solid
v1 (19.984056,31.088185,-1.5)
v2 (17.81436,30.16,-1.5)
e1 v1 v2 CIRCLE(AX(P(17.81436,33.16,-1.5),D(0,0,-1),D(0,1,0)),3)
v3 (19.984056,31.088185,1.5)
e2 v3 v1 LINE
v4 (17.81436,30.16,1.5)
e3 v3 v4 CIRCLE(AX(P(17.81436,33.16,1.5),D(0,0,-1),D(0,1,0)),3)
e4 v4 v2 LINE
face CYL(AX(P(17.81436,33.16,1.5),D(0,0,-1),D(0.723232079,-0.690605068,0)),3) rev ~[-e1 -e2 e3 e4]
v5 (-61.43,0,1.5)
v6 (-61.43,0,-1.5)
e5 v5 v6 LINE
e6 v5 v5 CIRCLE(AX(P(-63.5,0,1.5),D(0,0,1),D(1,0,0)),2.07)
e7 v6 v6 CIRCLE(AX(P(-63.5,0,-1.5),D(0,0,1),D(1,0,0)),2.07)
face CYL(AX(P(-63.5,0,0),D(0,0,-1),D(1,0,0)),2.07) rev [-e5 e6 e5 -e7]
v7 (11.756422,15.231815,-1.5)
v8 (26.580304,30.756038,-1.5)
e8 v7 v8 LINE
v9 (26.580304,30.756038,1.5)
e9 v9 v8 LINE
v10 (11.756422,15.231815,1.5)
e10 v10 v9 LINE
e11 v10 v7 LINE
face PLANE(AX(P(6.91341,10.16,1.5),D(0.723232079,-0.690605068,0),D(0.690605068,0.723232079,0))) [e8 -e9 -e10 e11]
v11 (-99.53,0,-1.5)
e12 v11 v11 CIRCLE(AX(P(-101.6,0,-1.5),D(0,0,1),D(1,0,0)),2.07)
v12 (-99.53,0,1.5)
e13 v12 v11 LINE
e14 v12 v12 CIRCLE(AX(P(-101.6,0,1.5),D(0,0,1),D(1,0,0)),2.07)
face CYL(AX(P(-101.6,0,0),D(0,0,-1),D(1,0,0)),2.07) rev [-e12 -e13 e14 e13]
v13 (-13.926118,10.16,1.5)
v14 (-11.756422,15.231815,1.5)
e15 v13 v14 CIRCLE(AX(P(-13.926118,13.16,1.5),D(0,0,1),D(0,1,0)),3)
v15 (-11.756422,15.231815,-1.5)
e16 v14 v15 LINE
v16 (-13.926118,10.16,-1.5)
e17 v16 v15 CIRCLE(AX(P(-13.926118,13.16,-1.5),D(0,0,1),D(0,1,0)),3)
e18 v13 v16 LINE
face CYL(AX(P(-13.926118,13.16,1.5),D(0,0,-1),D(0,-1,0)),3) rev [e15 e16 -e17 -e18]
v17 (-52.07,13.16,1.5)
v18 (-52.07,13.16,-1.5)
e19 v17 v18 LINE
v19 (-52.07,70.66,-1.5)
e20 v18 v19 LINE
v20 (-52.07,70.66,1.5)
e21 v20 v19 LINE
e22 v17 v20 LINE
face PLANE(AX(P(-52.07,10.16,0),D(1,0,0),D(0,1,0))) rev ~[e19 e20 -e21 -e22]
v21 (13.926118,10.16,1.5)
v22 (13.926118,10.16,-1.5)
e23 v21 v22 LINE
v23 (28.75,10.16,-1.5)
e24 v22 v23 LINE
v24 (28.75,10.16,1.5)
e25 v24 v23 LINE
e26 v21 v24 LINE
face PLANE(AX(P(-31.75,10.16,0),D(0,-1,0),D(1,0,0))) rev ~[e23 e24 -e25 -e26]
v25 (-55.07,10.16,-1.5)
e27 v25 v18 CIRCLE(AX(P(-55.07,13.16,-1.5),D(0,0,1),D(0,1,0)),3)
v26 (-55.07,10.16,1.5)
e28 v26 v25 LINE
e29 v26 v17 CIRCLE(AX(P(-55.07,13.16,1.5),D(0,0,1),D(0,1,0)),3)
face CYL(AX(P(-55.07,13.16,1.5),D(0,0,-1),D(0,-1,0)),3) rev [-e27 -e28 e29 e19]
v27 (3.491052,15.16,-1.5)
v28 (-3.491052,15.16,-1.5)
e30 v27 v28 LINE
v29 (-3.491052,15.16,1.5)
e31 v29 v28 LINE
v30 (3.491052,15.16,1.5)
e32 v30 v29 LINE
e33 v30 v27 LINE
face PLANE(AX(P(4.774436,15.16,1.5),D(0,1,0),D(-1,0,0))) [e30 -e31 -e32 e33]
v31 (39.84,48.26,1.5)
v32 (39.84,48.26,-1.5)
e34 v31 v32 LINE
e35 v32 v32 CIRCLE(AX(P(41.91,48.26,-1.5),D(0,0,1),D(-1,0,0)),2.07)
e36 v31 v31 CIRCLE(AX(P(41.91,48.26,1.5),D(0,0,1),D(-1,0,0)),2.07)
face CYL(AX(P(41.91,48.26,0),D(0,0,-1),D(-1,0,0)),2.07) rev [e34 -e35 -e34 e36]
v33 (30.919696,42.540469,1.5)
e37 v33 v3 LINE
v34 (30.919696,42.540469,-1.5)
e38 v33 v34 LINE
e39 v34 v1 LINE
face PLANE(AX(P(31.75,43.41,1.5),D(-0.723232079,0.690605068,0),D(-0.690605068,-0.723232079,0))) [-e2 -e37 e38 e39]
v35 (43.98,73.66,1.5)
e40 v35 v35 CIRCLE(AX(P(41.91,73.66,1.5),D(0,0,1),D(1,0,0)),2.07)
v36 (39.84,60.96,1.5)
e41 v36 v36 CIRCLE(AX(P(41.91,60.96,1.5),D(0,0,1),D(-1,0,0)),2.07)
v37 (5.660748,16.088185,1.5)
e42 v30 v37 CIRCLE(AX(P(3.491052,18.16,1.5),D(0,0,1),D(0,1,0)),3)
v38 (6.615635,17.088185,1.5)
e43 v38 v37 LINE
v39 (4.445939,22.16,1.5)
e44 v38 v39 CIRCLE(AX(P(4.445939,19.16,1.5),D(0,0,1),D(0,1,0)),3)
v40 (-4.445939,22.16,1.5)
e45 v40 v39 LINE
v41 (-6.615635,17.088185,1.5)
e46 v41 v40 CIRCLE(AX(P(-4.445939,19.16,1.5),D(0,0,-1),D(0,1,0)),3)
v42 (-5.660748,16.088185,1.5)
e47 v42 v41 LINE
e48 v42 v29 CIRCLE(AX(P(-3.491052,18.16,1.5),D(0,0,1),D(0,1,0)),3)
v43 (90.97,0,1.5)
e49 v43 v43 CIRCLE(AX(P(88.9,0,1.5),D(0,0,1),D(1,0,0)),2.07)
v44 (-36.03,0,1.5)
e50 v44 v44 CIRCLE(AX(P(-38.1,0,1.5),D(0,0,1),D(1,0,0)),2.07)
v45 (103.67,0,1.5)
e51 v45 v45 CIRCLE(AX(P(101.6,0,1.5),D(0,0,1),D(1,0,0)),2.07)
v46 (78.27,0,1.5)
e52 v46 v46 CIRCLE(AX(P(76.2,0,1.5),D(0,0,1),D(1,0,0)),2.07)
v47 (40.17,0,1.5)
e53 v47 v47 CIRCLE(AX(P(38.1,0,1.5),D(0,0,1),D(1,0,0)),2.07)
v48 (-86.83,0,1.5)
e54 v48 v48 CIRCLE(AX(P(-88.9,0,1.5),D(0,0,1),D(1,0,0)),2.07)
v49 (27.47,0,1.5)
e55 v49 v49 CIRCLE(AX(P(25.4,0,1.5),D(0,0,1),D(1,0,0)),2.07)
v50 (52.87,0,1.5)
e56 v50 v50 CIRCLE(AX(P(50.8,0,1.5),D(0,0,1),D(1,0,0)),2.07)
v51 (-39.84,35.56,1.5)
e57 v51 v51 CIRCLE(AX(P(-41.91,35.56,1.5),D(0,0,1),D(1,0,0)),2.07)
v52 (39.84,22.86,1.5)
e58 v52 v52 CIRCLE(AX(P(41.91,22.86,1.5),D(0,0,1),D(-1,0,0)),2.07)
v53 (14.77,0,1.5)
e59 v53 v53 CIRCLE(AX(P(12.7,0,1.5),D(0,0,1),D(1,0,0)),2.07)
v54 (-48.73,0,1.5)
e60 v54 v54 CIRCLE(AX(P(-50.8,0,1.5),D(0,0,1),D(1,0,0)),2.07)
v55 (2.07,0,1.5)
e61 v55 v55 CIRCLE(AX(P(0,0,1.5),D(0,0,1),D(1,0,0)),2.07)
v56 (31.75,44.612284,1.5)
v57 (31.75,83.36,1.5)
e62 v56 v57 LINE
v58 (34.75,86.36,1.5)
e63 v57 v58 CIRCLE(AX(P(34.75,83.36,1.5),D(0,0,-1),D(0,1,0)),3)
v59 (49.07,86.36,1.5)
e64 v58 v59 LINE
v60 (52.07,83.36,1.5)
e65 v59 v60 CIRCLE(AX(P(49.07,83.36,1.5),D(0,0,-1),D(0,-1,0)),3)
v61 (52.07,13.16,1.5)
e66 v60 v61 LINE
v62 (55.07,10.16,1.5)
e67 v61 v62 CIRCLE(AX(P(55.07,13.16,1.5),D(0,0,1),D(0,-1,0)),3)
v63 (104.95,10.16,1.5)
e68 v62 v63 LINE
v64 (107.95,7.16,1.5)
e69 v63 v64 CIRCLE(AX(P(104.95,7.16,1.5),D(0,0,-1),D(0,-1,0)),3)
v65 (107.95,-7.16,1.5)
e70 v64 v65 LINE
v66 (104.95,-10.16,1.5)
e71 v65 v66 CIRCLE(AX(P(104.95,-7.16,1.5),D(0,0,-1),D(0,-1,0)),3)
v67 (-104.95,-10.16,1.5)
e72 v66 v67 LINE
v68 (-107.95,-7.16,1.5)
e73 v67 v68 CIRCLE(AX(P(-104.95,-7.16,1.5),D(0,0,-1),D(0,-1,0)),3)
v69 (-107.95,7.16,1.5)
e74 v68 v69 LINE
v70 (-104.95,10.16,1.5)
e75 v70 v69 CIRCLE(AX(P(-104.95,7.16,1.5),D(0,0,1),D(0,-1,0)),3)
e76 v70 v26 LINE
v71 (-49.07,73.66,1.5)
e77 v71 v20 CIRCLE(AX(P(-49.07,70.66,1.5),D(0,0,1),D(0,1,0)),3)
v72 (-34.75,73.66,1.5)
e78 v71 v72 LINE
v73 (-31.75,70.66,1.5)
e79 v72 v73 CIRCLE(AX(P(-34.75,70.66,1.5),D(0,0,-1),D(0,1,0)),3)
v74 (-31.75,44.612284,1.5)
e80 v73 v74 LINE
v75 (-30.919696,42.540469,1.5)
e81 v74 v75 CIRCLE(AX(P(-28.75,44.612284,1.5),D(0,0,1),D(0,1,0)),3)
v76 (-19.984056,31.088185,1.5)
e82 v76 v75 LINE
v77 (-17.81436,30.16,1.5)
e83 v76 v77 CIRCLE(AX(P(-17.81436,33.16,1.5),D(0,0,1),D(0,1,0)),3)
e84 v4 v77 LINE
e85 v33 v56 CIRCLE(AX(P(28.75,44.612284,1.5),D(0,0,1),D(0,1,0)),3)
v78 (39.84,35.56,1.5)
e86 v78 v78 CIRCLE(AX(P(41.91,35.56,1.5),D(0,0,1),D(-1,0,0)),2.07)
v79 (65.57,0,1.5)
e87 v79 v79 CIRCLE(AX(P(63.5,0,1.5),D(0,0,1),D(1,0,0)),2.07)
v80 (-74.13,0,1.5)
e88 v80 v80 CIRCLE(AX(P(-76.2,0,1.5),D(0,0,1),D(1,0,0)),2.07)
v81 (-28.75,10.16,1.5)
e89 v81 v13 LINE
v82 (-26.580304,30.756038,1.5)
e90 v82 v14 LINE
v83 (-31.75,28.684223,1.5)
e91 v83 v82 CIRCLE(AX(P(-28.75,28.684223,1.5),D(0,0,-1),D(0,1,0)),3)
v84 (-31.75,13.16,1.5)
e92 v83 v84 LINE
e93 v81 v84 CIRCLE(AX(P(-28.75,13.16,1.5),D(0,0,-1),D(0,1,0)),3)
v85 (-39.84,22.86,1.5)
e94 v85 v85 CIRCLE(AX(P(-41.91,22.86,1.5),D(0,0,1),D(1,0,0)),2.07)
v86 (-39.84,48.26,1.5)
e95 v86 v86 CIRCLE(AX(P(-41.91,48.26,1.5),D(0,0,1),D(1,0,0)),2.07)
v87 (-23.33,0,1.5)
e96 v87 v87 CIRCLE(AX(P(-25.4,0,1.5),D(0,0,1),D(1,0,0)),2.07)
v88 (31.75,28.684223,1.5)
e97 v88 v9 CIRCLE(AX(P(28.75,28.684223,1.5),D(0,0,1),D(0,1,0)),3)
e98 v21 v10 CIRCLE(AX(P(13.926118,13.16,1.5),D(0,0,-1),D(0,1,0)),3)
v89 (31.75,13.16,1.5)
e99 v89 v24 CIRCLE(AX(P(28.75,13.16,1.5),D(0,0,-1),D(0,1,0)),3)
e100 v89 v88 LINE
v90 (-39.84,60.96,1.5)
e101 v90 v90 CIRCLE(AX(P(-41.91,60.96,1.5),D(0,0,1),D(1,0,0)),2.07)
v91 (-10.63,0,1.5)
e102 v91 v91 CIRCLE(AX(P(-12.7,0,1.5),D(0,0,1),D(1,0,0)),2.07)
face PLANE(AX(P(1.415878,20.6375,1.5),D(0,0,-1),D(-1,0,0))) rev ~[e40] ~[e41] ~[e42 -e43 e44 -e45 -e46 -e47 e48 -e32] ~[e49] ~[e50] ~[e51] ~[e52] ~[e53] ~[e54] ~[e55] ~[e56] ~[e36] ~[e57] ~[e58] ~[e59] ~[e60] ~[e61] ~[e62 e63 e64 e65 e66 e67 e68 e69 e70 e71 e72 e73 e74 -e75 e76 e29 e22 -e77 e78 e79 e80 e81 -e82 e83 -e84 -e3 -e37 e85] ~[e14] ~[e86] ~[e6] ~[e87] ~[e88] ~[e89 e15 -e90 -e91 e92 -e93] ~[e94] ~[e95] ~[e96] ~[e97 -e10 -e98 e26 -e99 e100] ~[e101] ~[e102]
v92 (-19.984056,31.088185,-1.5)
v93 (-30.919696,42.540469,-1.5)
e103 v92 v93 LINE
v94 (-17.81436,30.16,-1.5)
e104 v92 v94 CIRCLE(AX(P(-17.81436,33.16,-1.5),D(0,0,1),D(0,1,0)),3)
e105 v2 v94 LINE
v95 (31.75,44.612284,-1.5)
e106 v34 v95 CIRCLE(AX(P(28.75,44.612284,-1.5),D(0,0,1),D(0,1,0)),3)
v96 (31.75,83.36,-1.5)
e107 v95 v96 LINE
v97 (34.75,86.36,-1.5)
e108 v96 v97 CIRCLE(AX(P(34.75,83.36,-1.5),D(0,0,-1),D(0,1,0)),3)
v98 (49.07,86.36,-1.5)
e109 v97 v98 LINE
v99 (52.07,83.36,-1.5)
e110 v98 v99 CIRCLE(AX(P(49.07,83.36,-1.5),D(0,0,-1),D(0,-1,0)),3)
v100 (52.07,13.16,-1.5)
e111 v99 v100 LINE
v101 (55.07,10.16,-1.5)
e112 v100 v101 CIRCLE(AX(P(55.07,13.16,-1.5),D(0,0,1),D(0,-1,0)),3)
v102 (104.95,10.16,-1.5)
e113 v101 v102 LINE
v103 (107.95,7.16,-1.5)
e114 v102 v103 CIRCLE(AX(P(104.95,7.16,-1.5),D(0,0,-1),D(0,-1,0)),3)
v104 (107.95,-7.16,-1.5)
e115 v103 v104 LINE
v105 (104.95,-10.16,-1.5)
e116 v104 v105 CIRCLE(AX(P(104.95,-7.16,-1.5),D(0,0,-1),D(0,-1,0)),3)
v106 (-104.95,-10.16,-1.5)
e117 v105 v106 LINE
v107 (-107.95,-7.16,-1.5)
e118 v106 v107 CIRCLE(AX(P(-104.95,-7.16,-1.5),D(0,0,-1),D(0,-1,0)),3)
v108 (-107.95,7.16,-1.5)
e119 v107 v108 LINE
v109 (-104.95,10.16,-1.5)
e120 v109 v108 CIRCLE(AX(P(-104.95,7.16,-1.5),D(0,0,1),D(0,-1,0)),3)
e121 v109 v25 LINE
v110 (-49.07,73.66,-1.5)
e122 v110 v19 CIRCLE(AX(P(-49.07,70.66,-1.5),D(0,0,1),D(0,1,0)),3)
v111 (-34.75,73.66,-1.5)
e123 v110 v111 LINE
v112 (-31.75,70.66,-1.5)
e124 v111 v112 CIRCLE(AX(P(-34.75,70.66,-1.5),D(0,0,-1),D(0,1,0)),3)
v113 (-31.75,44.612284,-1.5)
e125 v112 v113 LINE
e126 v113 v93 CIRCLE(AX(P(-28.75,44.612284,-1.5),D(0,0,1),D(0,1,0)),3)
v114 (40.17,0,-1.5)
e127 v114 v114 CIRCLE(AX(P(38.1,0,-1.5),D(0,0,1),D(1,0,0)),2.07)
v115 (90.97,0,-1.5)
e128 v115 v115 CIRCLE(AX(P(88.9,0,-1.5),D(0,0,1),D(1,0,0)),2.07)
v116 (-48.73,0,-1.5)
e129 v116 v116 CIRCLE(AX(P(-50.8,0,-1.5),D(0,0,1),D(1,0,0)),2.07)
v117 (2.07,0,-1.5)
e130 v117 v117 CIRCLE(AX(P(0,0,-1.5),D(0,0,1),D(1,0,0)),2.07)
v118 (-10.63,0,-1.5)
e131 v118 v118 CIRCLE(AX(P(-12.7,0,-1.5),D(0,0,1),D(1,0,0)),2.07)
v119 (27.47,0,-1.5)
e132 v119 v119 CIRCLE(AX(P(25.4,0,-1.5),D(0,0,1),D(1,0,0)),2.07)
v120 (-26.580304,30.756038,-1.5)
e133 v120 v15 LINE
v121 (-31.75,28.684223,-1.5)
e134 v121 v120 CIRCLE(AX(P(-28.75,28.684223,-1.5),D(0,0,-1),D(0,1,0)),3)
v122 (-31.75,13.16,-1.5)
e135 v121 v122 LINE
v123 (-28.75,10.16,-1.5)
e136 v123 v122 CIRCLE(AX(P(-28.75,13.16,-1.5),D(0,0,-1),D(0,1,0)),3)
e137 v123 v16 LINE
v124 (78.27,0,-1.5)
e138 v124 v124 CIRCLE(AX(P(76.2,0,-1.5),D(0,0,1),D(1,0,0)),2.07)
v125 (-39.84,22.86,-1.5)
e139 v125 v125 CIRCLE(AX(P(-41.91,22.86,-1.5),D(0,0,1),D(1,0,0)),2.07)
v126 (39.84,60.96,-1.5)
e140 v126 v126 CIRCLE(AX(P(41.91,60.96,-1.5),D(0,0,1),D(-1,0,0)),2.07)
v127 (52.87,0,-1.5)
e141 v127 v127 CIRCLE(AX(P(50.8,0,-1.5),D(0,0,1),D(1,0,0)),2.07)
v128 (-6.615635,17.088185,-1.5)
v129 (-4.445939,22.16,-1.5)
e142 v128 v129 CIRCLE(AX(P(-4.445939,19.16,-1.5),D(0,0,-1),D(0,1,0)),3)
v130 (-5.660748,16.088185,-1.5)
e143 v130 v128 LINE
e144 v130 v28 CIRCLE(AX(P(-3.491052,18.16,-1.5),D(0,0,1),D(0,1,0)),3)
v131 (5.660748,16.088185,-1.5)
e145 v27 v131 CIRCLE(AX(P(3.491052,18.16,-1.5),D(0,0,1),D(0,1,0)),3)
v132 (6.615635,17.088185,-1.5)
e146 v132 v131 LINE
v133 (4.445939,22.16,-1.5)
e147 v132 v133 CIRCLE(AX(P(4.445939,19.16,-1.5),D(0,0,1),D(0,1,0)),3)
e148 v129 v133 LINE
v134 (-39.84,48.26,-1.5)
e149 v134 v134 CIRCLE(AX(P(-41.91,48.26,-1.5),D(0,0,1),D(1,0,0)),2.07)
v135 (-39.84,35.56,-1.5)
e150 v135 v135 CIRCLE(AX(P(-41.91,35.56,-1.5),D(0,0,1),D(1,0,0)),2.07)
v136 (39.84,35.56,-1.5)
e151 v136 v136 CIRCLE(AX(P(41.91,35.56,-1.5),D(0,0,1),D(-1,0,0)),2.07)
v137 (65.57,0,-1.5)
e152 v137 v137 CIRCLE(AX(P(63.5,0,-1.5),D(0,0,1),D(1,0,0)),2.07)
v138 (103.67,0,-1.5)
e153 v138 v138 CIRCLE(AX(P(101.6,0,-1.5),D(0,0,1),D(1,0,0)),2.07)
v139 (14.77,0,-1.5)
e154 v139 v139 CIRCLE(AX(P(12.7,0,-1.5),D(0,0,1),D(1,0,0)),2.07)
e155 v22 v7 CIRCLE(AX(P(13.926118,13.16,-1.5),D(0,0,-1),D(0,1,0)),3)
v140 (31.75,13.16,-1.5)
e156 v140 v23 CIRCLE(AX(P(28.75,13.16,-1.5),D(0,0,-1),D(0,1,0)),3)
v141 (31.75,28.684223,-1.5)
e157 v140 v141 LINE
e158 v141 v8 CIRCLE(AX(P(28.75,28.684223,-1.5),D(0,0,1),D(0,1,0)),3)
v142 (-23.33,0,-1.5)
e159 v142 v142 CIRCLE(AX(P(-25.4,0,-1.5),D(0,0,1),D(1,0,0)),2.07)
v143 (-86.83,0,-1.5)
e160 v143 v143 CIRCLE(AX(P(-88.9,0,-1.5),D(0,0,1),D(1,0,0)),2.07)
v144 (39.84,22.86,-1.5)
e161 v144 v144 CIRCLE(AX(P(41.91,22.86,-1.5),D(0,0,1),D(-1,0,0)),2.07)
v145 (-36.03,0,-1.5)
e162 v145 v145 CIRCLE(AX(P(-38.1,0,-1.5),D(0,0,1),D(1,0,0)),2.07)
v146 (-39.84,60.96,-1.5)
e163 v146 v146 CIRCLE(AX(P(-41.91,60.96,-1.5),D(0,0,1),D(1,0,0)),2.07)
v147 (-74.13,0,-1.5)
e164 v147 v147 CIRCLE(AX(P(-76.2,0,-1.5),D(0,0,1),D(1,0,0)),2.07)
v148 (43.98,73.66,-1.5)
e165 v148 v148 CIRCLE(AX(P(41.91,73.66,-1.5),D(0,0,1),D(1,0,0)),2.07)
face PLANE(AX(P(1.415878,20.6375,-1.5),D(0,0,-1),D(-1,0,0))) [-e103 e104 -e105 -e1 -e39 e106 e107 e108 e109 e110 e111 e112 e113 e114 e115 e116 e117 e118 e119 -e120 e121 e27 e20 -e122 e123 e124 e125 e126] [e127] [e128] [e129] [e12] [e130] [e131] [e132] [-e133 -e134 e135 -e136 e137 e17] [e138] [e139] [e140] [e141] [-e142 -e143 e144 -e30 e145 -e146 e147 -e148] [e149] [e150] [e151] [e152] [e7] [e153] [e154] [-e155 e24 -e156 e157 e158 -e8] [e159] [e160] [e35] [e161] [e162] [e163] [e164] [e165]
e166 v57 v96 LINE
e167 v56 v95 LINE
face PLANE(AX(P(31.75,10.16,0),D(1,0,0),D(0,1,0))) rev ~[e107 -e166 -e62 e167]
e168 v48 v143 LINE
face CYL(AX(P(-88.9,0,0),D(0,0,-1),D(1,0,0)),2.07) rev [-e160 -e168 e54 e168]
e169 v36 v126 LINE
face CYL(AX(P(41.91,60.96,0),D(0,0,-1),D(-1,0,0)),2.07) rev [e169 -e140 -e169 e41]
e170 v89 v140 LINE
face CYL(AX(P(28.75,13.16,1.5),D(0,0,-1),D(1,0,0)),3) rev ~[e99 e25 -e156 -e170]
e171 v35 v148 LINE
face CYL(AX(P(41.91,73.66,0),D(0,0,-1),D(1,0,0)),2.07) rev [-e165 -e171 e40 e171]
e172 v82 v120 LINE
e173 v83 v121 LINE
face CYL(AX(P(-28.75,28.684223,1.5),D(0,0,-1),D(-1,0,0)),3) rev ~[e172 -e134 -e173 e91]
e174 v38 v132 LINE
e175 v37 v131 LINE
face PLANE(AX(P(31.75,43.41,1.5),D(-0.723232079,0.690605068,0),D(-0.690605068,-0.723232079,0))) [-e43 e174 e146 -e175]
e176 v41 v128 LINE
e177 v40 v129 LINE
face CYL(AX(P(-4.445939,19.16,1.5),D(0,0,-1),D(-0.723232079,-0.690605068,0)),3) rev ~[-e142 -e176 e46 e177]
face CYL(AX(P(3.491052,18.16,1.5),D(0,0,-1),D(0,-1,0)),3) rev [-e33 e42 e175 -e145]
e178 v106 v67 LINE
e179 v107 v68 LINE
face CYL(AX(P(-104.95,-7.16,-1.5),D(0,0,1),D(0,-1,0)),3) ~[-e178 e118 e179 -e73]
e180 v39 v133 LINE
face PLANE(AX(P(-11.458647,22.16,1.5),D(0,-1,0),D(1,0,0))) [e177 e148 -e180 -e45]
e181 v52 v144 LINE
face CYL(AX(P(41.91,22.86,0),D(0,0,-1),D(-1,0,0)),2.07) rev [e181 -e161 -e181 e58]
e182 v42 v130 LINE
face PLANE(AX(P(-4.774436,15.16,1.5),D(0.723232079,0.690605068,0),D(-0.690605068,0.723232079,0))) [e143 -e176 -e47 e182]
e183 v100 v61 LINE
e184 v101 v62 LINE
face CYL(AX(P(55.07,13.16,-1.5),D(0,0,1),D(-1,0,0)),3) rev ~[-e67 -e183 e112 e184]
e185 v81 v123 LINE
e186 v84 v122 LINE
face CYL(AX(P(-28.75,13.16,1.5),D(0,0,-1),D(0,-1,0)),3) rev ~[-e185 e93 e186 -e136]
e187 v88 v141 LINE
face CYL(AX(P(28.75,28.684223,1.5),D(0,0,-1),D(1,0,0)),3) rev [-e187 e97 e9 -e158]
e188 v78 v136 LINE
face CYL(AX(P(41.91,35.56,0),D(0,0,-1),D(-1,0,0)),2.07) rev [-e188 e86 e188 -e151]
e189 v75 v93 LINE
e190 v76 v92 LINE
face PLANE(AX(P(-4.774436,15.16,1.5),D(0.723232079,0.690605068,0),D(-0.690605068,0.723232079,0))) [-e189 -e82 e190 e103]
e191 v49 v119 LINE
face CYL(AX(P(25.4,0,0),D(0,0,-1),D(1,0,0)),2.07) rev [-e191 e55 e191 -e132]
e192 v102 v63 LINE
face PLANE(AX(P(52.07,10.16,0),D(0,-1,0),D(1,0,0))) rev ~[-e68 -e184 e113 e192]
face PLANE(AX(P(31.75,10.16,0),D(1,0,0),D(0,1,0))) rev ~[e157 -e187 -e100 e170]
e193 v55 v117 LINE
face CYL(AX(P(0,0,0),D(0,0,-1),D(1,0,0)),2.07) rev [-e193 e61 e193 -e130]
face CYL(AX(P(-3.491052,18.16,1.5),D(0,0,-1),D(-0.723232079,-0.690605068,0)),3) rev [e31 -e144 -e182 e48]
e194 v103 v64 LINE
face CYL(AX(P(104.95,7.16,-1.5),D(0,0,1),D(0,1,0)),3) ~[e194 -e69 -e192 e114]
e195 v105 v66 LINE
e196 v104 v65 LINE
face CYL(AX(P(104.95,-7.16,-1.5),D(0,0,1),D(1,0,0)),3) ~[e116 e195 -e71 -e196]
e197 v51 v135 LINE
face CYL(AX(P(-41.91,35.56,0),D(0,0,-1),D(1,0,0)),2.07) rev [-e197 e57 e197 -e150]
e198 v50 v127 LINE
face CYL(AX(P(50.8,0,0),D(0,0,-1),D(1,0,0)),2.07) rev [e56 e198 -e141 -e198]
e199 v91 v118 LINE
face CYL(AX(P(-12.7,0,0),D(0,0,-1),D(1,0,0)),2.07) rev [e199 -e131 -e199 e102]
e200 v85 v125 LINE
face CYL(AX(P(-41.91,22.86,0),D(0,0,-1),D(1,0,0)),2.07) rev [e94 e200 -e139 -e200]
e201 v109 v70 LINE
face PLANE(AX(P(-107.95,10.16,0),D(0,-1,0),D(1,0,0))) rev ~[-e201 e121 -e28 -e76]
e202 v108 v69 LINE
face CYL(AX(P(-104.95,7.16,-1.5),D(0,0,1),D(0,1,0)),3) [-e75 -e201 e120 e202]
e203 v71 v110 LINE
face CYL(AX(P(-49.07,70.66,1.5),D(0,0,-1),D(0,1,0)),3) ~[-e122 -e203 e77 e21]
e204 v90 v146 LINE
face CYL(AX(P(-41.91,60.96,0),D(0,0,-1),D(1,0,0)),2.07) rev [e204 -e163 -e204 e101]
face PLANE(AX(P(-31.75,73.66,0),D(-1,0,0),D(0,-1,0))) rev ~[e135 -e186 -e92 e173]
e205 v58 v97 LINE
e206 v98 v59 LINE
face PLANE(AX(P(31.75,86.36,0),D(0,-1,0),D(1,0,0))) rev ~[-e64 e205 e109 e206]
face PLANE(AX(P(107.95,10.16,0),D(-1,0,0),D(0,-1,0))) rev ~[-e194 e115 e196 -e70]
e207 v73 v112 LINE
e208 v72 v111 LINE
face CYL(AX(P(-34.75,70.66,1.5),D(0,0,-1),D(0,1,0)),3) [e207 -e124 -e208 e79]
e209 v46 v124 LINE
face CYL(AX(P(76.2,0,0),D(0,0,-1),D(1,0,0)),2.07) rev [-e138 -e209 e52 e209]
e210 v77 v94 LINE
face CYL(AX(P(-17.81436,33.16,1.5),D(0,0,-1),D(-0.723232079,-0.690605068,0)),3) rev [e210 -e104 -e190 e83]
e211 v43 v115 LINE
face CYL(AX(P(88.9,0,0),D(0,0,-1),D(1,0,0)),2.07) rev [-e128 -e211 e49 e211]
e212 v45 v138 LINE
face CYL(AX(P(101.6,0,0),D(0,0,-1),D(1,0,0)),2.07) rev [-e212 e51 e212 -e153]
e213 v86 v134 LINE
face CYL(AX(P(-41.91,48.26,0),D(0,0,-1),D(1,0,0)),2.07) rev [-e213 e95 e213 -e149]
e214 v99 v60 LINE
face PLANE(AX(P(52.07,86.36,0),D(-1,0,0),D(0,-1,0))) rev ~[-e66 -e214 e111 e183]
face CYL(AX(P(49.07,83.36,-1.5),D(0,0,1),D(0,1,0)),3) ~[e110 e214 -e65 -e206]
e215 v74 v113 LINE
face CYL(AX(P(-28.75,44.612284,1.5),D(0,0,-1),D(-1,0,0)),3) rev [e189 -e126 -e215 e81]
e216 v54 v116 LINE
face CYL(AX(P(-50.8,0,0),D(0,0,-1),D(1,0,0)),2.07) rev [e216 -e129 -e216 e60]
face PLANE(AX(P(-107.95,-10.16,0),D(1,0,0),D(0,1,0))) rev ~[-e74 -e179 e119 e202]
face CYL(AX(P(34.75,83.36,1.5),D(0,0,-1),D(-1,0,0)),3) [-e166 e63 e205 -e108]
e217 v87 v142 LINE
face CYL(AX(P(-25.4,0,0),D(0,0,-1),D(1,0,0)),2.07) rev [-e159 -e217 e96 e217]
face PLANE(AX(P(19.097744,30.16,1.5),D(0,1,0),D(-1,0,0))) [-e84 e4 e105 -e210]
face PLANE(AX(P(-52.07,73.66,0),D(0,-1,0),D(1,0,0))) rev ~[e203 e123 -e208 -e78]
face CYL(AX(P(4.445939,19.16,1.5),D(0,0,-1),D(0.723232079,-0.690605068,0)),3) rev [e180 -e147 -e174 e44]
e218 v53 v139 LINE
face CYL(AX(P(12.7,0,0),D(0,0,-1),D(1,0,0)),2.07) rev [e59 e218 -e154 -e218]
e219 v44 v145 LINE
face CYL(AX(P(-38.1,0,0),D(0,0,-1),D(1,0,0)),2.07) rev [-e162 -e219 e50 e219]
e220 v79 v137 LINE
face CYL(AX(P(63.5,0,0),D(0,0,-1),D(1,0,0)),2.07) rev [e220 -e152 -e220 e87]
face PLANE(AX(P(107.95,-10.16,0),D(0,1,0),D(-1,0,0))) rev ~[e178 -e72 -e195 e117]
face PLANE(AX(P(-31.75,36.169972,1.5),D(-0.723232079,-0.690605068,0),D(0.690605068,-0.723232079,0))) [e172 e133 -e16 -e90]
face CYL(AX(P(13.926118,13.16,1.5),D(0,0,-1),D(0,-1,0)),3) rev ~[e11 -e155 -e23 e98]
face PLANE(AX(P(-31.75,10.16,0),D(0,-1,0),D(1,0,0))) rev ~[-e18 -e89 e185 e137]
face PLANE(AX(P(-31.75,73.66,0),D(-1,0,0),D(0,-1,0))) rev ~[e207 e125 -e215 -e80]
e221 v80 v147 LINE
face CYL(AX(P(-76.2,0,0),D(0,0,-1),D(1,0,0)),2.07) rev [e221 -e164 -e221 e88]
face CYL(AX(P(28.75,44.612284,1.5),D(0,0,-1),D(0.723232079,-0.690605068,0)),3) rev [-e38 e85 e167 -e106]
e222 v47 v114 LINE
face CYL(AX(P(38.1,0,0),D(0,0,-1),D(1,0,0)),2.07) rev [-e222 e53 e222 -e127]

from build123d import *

# Parameters (mm, degrees)
SKETCH1_R           = 2.07
BOSS_EXTRUDE1_DEPTH = 1.5
FILLET3_R           = 3
BOSS_EXTRUDE5_DEPTH = 3
BOSS_EXTRUDE6_DEPTH = 3
FILLET4_R           = 3


with BuildPart() as part:
    # Sketch1 → Boss-Extrude1 (new, symmetric)
    with BuildSketch(Plane.XY):
        Polygon((-107.95, 10.16), (-52.07, 10.16), (-52.07, 73.66), (-31.75, 73.66), (-31.75, 10.16), (31.75, 10.16), (31.75, 86.36), (52.07, 86.36), (52.07, 10.16), (107.95, 10.16), (107.95, -10.16), (-107.95, -10.16), align=None)
        Circle(SKETCH1_R, mode=Mode.SUBTRACT)
        with Locations((12.7, 0)):
            Circle(SKETCH1_R, mode=Mode.SUBTRACT)
        with Locations((25.4, 0)):
            Circle(SKETCH1_R, mode=Mode.SUBTRACT)
        with Locations((38.1, 0)):
            Circle(SKETCH1_R, mode=Mode.SUBTRACT)
        with Locations((50.8, 0)):
            Circle(SKETCH1_R, mode=Mode.SUBTRACT)
        with Locations((63.5, 0)):
            Circle(SKETCH1_R, mode=Mode.SUBTRACT)
        with Locations((76.2, 0)):
            Circle(SKETCH1_R, mode=Mode.SUBTRACT)
        with Locations((88.9, 0)):
            Circle(SKETCH1_R, mode=Mode.SUBTRACT)
        with Locations((101.6, 0)):
            Circle(SKETCH1_R, mode=Mode.SUBTRACT)
        with Locations((-12.7, 0)):
            Circle(SKETCH1_R, mode=Mode.SUBTRACT)
        with Locations((-25.4, 0)):
            Circle(SKETCH1_R, mode=Mode.SUBTRACT)
        with Locations((-38.1, 0)):
            Circle(SKETCH1_R, mode=Mode.SUBTRACT)
        with Locations((-50.8, 0)):
            Circle(SKETCH1_R, mode=Mode.SUBTRACT)
        with Locations((-63.5, 0)):
            Circle(SKETCH1_R, mode=Mode.SUBTRACT)
        with Locations((-76.2, 0)):
            Circle(SKETCH1_R, mode=Mode.SUBTRACT)
        with Locations((-88.9, 0)):
            Circle(SKETCH1_R, mode=Mode.SUBTRACT)
        with Locations((-101.6, 0)):
            Circle(SKETCH1_R, mode=Mode.SUBTRACT)
        with Locations((-41.91, 60.96)):
            Circle(SKETCH1_R, mode=Mode.SUBTRACT)
        with Locations(Location((41.91, 60.96, 0), (0, 0, 180))):
            Circle(SKETCH1_R, mode=Mode.SUBTRACT)
        with Locations((-41.91, 48.26)):
            Circle(SKETCH1_R, mode=Mode.SUBTRACT)
        with Locations(Location((41.91, 48.26, 0), (0, 0, 180))):
            Circle(SKETCH1_R, mode=Mode.SUBTRACT)
        with Locations((-41.91, 35.56)):
            Circle(SKETCH1_R, mode=Mode.SUBTRACT)
        with Locations(Location((41.91, 35.56, 0), (0, 0, 180))):
            Circle(SKETCH1_R, mode=Mode.SUBTRACT)
        with Locations((-41.91, 22.86)):
            Circle(SKETCH1_R, mode=Mode.SUBTRACT)
        with Locations(Location((41.91, 22.86, 0), (0, 0, 180))):
            Circle(SKETCH1_R, mode=Mode.SUBTRACT)
        with Locations((41.91, 73.66)):
            Circle(SKETCH1_R, mode=Mode.SUBTRACT)
    extrude(amount=BOSS_EXTRUDE1_DEPTH, both=True)

    # Fillet3
    fillet3_edges = [part.edges().sort_by_distance(p)[0] for p in [
        (107.95, -10.16, 0),
        (-107.95, -10.16, 0),
        (-107.95, 10.16, 0),
        (-52.07, 10.16, 0),
        (-52.07, 73.66, 0),
        (-31.75, 10.16, 0),
        (31.75, 10.16, 0),
        (52.07, 86.36, 0),
        (52.07, 10.16, 0),
        (107.95, 10.16, 0),
    ]]
    fillet(fillet3_edges, radius=FILLET3_R)

    # Sketch3 → Boss-Extrude5 (add)
    with BuildSketch(Plane.XY.offset(1.5)):
        Polygon((-4.77443609, 15.16), (-31.75, 43.41), (-31.75, 36.169972042), (-6.913410156, 10.16), (6.913410156, 10.16), (31.75, 36.169972042), (31.75, 43.41), (4.77443609, 15.16), align=None)
    extrude(amount=-BOSS_EXTRUDE5_DEPTH)

    # Sketch4 → Boss-Extrude6 (add)
    with BuildSketch(Plane.XY.offset(1.5)):
        Polygon((19.097744361, 30.16), (-19.097744361, 30.16), (-11.458646617, 22.16), (11.458646617, 22.16), align=None)
    extrude(amount=-BOSS_EXTRUDE6_DEPTH)

    # Fillet4
    fillet4_edges = [part.edges().sort_by_distance(p)[0] for p in [
        (-31.75, 73.66, 0),
        (-31.75, 36.169972042, 0),
        (31.75, 86.36, 0),
        (-31.75, 43.41, 0),
        (-4.77443609, 15.16, 0),
        (4.77443609, 15.16, 0),
        (31.75, 43.41, 0),
        (31.75, 36.169972042, 0),
        (6.913410156, 10.16, 0),
        (-6.913410156, 10.16, 0),
        (19.097744361, 30.16, 0),
        (11.458646617, 22.16, 0),
        (-11.458646617, 22.16, 0),
        (-19.097744361, 30.16, 0),
    ]]
    fillet(fillet4_edges, radius=FILLET4_R)


solid = part.part
